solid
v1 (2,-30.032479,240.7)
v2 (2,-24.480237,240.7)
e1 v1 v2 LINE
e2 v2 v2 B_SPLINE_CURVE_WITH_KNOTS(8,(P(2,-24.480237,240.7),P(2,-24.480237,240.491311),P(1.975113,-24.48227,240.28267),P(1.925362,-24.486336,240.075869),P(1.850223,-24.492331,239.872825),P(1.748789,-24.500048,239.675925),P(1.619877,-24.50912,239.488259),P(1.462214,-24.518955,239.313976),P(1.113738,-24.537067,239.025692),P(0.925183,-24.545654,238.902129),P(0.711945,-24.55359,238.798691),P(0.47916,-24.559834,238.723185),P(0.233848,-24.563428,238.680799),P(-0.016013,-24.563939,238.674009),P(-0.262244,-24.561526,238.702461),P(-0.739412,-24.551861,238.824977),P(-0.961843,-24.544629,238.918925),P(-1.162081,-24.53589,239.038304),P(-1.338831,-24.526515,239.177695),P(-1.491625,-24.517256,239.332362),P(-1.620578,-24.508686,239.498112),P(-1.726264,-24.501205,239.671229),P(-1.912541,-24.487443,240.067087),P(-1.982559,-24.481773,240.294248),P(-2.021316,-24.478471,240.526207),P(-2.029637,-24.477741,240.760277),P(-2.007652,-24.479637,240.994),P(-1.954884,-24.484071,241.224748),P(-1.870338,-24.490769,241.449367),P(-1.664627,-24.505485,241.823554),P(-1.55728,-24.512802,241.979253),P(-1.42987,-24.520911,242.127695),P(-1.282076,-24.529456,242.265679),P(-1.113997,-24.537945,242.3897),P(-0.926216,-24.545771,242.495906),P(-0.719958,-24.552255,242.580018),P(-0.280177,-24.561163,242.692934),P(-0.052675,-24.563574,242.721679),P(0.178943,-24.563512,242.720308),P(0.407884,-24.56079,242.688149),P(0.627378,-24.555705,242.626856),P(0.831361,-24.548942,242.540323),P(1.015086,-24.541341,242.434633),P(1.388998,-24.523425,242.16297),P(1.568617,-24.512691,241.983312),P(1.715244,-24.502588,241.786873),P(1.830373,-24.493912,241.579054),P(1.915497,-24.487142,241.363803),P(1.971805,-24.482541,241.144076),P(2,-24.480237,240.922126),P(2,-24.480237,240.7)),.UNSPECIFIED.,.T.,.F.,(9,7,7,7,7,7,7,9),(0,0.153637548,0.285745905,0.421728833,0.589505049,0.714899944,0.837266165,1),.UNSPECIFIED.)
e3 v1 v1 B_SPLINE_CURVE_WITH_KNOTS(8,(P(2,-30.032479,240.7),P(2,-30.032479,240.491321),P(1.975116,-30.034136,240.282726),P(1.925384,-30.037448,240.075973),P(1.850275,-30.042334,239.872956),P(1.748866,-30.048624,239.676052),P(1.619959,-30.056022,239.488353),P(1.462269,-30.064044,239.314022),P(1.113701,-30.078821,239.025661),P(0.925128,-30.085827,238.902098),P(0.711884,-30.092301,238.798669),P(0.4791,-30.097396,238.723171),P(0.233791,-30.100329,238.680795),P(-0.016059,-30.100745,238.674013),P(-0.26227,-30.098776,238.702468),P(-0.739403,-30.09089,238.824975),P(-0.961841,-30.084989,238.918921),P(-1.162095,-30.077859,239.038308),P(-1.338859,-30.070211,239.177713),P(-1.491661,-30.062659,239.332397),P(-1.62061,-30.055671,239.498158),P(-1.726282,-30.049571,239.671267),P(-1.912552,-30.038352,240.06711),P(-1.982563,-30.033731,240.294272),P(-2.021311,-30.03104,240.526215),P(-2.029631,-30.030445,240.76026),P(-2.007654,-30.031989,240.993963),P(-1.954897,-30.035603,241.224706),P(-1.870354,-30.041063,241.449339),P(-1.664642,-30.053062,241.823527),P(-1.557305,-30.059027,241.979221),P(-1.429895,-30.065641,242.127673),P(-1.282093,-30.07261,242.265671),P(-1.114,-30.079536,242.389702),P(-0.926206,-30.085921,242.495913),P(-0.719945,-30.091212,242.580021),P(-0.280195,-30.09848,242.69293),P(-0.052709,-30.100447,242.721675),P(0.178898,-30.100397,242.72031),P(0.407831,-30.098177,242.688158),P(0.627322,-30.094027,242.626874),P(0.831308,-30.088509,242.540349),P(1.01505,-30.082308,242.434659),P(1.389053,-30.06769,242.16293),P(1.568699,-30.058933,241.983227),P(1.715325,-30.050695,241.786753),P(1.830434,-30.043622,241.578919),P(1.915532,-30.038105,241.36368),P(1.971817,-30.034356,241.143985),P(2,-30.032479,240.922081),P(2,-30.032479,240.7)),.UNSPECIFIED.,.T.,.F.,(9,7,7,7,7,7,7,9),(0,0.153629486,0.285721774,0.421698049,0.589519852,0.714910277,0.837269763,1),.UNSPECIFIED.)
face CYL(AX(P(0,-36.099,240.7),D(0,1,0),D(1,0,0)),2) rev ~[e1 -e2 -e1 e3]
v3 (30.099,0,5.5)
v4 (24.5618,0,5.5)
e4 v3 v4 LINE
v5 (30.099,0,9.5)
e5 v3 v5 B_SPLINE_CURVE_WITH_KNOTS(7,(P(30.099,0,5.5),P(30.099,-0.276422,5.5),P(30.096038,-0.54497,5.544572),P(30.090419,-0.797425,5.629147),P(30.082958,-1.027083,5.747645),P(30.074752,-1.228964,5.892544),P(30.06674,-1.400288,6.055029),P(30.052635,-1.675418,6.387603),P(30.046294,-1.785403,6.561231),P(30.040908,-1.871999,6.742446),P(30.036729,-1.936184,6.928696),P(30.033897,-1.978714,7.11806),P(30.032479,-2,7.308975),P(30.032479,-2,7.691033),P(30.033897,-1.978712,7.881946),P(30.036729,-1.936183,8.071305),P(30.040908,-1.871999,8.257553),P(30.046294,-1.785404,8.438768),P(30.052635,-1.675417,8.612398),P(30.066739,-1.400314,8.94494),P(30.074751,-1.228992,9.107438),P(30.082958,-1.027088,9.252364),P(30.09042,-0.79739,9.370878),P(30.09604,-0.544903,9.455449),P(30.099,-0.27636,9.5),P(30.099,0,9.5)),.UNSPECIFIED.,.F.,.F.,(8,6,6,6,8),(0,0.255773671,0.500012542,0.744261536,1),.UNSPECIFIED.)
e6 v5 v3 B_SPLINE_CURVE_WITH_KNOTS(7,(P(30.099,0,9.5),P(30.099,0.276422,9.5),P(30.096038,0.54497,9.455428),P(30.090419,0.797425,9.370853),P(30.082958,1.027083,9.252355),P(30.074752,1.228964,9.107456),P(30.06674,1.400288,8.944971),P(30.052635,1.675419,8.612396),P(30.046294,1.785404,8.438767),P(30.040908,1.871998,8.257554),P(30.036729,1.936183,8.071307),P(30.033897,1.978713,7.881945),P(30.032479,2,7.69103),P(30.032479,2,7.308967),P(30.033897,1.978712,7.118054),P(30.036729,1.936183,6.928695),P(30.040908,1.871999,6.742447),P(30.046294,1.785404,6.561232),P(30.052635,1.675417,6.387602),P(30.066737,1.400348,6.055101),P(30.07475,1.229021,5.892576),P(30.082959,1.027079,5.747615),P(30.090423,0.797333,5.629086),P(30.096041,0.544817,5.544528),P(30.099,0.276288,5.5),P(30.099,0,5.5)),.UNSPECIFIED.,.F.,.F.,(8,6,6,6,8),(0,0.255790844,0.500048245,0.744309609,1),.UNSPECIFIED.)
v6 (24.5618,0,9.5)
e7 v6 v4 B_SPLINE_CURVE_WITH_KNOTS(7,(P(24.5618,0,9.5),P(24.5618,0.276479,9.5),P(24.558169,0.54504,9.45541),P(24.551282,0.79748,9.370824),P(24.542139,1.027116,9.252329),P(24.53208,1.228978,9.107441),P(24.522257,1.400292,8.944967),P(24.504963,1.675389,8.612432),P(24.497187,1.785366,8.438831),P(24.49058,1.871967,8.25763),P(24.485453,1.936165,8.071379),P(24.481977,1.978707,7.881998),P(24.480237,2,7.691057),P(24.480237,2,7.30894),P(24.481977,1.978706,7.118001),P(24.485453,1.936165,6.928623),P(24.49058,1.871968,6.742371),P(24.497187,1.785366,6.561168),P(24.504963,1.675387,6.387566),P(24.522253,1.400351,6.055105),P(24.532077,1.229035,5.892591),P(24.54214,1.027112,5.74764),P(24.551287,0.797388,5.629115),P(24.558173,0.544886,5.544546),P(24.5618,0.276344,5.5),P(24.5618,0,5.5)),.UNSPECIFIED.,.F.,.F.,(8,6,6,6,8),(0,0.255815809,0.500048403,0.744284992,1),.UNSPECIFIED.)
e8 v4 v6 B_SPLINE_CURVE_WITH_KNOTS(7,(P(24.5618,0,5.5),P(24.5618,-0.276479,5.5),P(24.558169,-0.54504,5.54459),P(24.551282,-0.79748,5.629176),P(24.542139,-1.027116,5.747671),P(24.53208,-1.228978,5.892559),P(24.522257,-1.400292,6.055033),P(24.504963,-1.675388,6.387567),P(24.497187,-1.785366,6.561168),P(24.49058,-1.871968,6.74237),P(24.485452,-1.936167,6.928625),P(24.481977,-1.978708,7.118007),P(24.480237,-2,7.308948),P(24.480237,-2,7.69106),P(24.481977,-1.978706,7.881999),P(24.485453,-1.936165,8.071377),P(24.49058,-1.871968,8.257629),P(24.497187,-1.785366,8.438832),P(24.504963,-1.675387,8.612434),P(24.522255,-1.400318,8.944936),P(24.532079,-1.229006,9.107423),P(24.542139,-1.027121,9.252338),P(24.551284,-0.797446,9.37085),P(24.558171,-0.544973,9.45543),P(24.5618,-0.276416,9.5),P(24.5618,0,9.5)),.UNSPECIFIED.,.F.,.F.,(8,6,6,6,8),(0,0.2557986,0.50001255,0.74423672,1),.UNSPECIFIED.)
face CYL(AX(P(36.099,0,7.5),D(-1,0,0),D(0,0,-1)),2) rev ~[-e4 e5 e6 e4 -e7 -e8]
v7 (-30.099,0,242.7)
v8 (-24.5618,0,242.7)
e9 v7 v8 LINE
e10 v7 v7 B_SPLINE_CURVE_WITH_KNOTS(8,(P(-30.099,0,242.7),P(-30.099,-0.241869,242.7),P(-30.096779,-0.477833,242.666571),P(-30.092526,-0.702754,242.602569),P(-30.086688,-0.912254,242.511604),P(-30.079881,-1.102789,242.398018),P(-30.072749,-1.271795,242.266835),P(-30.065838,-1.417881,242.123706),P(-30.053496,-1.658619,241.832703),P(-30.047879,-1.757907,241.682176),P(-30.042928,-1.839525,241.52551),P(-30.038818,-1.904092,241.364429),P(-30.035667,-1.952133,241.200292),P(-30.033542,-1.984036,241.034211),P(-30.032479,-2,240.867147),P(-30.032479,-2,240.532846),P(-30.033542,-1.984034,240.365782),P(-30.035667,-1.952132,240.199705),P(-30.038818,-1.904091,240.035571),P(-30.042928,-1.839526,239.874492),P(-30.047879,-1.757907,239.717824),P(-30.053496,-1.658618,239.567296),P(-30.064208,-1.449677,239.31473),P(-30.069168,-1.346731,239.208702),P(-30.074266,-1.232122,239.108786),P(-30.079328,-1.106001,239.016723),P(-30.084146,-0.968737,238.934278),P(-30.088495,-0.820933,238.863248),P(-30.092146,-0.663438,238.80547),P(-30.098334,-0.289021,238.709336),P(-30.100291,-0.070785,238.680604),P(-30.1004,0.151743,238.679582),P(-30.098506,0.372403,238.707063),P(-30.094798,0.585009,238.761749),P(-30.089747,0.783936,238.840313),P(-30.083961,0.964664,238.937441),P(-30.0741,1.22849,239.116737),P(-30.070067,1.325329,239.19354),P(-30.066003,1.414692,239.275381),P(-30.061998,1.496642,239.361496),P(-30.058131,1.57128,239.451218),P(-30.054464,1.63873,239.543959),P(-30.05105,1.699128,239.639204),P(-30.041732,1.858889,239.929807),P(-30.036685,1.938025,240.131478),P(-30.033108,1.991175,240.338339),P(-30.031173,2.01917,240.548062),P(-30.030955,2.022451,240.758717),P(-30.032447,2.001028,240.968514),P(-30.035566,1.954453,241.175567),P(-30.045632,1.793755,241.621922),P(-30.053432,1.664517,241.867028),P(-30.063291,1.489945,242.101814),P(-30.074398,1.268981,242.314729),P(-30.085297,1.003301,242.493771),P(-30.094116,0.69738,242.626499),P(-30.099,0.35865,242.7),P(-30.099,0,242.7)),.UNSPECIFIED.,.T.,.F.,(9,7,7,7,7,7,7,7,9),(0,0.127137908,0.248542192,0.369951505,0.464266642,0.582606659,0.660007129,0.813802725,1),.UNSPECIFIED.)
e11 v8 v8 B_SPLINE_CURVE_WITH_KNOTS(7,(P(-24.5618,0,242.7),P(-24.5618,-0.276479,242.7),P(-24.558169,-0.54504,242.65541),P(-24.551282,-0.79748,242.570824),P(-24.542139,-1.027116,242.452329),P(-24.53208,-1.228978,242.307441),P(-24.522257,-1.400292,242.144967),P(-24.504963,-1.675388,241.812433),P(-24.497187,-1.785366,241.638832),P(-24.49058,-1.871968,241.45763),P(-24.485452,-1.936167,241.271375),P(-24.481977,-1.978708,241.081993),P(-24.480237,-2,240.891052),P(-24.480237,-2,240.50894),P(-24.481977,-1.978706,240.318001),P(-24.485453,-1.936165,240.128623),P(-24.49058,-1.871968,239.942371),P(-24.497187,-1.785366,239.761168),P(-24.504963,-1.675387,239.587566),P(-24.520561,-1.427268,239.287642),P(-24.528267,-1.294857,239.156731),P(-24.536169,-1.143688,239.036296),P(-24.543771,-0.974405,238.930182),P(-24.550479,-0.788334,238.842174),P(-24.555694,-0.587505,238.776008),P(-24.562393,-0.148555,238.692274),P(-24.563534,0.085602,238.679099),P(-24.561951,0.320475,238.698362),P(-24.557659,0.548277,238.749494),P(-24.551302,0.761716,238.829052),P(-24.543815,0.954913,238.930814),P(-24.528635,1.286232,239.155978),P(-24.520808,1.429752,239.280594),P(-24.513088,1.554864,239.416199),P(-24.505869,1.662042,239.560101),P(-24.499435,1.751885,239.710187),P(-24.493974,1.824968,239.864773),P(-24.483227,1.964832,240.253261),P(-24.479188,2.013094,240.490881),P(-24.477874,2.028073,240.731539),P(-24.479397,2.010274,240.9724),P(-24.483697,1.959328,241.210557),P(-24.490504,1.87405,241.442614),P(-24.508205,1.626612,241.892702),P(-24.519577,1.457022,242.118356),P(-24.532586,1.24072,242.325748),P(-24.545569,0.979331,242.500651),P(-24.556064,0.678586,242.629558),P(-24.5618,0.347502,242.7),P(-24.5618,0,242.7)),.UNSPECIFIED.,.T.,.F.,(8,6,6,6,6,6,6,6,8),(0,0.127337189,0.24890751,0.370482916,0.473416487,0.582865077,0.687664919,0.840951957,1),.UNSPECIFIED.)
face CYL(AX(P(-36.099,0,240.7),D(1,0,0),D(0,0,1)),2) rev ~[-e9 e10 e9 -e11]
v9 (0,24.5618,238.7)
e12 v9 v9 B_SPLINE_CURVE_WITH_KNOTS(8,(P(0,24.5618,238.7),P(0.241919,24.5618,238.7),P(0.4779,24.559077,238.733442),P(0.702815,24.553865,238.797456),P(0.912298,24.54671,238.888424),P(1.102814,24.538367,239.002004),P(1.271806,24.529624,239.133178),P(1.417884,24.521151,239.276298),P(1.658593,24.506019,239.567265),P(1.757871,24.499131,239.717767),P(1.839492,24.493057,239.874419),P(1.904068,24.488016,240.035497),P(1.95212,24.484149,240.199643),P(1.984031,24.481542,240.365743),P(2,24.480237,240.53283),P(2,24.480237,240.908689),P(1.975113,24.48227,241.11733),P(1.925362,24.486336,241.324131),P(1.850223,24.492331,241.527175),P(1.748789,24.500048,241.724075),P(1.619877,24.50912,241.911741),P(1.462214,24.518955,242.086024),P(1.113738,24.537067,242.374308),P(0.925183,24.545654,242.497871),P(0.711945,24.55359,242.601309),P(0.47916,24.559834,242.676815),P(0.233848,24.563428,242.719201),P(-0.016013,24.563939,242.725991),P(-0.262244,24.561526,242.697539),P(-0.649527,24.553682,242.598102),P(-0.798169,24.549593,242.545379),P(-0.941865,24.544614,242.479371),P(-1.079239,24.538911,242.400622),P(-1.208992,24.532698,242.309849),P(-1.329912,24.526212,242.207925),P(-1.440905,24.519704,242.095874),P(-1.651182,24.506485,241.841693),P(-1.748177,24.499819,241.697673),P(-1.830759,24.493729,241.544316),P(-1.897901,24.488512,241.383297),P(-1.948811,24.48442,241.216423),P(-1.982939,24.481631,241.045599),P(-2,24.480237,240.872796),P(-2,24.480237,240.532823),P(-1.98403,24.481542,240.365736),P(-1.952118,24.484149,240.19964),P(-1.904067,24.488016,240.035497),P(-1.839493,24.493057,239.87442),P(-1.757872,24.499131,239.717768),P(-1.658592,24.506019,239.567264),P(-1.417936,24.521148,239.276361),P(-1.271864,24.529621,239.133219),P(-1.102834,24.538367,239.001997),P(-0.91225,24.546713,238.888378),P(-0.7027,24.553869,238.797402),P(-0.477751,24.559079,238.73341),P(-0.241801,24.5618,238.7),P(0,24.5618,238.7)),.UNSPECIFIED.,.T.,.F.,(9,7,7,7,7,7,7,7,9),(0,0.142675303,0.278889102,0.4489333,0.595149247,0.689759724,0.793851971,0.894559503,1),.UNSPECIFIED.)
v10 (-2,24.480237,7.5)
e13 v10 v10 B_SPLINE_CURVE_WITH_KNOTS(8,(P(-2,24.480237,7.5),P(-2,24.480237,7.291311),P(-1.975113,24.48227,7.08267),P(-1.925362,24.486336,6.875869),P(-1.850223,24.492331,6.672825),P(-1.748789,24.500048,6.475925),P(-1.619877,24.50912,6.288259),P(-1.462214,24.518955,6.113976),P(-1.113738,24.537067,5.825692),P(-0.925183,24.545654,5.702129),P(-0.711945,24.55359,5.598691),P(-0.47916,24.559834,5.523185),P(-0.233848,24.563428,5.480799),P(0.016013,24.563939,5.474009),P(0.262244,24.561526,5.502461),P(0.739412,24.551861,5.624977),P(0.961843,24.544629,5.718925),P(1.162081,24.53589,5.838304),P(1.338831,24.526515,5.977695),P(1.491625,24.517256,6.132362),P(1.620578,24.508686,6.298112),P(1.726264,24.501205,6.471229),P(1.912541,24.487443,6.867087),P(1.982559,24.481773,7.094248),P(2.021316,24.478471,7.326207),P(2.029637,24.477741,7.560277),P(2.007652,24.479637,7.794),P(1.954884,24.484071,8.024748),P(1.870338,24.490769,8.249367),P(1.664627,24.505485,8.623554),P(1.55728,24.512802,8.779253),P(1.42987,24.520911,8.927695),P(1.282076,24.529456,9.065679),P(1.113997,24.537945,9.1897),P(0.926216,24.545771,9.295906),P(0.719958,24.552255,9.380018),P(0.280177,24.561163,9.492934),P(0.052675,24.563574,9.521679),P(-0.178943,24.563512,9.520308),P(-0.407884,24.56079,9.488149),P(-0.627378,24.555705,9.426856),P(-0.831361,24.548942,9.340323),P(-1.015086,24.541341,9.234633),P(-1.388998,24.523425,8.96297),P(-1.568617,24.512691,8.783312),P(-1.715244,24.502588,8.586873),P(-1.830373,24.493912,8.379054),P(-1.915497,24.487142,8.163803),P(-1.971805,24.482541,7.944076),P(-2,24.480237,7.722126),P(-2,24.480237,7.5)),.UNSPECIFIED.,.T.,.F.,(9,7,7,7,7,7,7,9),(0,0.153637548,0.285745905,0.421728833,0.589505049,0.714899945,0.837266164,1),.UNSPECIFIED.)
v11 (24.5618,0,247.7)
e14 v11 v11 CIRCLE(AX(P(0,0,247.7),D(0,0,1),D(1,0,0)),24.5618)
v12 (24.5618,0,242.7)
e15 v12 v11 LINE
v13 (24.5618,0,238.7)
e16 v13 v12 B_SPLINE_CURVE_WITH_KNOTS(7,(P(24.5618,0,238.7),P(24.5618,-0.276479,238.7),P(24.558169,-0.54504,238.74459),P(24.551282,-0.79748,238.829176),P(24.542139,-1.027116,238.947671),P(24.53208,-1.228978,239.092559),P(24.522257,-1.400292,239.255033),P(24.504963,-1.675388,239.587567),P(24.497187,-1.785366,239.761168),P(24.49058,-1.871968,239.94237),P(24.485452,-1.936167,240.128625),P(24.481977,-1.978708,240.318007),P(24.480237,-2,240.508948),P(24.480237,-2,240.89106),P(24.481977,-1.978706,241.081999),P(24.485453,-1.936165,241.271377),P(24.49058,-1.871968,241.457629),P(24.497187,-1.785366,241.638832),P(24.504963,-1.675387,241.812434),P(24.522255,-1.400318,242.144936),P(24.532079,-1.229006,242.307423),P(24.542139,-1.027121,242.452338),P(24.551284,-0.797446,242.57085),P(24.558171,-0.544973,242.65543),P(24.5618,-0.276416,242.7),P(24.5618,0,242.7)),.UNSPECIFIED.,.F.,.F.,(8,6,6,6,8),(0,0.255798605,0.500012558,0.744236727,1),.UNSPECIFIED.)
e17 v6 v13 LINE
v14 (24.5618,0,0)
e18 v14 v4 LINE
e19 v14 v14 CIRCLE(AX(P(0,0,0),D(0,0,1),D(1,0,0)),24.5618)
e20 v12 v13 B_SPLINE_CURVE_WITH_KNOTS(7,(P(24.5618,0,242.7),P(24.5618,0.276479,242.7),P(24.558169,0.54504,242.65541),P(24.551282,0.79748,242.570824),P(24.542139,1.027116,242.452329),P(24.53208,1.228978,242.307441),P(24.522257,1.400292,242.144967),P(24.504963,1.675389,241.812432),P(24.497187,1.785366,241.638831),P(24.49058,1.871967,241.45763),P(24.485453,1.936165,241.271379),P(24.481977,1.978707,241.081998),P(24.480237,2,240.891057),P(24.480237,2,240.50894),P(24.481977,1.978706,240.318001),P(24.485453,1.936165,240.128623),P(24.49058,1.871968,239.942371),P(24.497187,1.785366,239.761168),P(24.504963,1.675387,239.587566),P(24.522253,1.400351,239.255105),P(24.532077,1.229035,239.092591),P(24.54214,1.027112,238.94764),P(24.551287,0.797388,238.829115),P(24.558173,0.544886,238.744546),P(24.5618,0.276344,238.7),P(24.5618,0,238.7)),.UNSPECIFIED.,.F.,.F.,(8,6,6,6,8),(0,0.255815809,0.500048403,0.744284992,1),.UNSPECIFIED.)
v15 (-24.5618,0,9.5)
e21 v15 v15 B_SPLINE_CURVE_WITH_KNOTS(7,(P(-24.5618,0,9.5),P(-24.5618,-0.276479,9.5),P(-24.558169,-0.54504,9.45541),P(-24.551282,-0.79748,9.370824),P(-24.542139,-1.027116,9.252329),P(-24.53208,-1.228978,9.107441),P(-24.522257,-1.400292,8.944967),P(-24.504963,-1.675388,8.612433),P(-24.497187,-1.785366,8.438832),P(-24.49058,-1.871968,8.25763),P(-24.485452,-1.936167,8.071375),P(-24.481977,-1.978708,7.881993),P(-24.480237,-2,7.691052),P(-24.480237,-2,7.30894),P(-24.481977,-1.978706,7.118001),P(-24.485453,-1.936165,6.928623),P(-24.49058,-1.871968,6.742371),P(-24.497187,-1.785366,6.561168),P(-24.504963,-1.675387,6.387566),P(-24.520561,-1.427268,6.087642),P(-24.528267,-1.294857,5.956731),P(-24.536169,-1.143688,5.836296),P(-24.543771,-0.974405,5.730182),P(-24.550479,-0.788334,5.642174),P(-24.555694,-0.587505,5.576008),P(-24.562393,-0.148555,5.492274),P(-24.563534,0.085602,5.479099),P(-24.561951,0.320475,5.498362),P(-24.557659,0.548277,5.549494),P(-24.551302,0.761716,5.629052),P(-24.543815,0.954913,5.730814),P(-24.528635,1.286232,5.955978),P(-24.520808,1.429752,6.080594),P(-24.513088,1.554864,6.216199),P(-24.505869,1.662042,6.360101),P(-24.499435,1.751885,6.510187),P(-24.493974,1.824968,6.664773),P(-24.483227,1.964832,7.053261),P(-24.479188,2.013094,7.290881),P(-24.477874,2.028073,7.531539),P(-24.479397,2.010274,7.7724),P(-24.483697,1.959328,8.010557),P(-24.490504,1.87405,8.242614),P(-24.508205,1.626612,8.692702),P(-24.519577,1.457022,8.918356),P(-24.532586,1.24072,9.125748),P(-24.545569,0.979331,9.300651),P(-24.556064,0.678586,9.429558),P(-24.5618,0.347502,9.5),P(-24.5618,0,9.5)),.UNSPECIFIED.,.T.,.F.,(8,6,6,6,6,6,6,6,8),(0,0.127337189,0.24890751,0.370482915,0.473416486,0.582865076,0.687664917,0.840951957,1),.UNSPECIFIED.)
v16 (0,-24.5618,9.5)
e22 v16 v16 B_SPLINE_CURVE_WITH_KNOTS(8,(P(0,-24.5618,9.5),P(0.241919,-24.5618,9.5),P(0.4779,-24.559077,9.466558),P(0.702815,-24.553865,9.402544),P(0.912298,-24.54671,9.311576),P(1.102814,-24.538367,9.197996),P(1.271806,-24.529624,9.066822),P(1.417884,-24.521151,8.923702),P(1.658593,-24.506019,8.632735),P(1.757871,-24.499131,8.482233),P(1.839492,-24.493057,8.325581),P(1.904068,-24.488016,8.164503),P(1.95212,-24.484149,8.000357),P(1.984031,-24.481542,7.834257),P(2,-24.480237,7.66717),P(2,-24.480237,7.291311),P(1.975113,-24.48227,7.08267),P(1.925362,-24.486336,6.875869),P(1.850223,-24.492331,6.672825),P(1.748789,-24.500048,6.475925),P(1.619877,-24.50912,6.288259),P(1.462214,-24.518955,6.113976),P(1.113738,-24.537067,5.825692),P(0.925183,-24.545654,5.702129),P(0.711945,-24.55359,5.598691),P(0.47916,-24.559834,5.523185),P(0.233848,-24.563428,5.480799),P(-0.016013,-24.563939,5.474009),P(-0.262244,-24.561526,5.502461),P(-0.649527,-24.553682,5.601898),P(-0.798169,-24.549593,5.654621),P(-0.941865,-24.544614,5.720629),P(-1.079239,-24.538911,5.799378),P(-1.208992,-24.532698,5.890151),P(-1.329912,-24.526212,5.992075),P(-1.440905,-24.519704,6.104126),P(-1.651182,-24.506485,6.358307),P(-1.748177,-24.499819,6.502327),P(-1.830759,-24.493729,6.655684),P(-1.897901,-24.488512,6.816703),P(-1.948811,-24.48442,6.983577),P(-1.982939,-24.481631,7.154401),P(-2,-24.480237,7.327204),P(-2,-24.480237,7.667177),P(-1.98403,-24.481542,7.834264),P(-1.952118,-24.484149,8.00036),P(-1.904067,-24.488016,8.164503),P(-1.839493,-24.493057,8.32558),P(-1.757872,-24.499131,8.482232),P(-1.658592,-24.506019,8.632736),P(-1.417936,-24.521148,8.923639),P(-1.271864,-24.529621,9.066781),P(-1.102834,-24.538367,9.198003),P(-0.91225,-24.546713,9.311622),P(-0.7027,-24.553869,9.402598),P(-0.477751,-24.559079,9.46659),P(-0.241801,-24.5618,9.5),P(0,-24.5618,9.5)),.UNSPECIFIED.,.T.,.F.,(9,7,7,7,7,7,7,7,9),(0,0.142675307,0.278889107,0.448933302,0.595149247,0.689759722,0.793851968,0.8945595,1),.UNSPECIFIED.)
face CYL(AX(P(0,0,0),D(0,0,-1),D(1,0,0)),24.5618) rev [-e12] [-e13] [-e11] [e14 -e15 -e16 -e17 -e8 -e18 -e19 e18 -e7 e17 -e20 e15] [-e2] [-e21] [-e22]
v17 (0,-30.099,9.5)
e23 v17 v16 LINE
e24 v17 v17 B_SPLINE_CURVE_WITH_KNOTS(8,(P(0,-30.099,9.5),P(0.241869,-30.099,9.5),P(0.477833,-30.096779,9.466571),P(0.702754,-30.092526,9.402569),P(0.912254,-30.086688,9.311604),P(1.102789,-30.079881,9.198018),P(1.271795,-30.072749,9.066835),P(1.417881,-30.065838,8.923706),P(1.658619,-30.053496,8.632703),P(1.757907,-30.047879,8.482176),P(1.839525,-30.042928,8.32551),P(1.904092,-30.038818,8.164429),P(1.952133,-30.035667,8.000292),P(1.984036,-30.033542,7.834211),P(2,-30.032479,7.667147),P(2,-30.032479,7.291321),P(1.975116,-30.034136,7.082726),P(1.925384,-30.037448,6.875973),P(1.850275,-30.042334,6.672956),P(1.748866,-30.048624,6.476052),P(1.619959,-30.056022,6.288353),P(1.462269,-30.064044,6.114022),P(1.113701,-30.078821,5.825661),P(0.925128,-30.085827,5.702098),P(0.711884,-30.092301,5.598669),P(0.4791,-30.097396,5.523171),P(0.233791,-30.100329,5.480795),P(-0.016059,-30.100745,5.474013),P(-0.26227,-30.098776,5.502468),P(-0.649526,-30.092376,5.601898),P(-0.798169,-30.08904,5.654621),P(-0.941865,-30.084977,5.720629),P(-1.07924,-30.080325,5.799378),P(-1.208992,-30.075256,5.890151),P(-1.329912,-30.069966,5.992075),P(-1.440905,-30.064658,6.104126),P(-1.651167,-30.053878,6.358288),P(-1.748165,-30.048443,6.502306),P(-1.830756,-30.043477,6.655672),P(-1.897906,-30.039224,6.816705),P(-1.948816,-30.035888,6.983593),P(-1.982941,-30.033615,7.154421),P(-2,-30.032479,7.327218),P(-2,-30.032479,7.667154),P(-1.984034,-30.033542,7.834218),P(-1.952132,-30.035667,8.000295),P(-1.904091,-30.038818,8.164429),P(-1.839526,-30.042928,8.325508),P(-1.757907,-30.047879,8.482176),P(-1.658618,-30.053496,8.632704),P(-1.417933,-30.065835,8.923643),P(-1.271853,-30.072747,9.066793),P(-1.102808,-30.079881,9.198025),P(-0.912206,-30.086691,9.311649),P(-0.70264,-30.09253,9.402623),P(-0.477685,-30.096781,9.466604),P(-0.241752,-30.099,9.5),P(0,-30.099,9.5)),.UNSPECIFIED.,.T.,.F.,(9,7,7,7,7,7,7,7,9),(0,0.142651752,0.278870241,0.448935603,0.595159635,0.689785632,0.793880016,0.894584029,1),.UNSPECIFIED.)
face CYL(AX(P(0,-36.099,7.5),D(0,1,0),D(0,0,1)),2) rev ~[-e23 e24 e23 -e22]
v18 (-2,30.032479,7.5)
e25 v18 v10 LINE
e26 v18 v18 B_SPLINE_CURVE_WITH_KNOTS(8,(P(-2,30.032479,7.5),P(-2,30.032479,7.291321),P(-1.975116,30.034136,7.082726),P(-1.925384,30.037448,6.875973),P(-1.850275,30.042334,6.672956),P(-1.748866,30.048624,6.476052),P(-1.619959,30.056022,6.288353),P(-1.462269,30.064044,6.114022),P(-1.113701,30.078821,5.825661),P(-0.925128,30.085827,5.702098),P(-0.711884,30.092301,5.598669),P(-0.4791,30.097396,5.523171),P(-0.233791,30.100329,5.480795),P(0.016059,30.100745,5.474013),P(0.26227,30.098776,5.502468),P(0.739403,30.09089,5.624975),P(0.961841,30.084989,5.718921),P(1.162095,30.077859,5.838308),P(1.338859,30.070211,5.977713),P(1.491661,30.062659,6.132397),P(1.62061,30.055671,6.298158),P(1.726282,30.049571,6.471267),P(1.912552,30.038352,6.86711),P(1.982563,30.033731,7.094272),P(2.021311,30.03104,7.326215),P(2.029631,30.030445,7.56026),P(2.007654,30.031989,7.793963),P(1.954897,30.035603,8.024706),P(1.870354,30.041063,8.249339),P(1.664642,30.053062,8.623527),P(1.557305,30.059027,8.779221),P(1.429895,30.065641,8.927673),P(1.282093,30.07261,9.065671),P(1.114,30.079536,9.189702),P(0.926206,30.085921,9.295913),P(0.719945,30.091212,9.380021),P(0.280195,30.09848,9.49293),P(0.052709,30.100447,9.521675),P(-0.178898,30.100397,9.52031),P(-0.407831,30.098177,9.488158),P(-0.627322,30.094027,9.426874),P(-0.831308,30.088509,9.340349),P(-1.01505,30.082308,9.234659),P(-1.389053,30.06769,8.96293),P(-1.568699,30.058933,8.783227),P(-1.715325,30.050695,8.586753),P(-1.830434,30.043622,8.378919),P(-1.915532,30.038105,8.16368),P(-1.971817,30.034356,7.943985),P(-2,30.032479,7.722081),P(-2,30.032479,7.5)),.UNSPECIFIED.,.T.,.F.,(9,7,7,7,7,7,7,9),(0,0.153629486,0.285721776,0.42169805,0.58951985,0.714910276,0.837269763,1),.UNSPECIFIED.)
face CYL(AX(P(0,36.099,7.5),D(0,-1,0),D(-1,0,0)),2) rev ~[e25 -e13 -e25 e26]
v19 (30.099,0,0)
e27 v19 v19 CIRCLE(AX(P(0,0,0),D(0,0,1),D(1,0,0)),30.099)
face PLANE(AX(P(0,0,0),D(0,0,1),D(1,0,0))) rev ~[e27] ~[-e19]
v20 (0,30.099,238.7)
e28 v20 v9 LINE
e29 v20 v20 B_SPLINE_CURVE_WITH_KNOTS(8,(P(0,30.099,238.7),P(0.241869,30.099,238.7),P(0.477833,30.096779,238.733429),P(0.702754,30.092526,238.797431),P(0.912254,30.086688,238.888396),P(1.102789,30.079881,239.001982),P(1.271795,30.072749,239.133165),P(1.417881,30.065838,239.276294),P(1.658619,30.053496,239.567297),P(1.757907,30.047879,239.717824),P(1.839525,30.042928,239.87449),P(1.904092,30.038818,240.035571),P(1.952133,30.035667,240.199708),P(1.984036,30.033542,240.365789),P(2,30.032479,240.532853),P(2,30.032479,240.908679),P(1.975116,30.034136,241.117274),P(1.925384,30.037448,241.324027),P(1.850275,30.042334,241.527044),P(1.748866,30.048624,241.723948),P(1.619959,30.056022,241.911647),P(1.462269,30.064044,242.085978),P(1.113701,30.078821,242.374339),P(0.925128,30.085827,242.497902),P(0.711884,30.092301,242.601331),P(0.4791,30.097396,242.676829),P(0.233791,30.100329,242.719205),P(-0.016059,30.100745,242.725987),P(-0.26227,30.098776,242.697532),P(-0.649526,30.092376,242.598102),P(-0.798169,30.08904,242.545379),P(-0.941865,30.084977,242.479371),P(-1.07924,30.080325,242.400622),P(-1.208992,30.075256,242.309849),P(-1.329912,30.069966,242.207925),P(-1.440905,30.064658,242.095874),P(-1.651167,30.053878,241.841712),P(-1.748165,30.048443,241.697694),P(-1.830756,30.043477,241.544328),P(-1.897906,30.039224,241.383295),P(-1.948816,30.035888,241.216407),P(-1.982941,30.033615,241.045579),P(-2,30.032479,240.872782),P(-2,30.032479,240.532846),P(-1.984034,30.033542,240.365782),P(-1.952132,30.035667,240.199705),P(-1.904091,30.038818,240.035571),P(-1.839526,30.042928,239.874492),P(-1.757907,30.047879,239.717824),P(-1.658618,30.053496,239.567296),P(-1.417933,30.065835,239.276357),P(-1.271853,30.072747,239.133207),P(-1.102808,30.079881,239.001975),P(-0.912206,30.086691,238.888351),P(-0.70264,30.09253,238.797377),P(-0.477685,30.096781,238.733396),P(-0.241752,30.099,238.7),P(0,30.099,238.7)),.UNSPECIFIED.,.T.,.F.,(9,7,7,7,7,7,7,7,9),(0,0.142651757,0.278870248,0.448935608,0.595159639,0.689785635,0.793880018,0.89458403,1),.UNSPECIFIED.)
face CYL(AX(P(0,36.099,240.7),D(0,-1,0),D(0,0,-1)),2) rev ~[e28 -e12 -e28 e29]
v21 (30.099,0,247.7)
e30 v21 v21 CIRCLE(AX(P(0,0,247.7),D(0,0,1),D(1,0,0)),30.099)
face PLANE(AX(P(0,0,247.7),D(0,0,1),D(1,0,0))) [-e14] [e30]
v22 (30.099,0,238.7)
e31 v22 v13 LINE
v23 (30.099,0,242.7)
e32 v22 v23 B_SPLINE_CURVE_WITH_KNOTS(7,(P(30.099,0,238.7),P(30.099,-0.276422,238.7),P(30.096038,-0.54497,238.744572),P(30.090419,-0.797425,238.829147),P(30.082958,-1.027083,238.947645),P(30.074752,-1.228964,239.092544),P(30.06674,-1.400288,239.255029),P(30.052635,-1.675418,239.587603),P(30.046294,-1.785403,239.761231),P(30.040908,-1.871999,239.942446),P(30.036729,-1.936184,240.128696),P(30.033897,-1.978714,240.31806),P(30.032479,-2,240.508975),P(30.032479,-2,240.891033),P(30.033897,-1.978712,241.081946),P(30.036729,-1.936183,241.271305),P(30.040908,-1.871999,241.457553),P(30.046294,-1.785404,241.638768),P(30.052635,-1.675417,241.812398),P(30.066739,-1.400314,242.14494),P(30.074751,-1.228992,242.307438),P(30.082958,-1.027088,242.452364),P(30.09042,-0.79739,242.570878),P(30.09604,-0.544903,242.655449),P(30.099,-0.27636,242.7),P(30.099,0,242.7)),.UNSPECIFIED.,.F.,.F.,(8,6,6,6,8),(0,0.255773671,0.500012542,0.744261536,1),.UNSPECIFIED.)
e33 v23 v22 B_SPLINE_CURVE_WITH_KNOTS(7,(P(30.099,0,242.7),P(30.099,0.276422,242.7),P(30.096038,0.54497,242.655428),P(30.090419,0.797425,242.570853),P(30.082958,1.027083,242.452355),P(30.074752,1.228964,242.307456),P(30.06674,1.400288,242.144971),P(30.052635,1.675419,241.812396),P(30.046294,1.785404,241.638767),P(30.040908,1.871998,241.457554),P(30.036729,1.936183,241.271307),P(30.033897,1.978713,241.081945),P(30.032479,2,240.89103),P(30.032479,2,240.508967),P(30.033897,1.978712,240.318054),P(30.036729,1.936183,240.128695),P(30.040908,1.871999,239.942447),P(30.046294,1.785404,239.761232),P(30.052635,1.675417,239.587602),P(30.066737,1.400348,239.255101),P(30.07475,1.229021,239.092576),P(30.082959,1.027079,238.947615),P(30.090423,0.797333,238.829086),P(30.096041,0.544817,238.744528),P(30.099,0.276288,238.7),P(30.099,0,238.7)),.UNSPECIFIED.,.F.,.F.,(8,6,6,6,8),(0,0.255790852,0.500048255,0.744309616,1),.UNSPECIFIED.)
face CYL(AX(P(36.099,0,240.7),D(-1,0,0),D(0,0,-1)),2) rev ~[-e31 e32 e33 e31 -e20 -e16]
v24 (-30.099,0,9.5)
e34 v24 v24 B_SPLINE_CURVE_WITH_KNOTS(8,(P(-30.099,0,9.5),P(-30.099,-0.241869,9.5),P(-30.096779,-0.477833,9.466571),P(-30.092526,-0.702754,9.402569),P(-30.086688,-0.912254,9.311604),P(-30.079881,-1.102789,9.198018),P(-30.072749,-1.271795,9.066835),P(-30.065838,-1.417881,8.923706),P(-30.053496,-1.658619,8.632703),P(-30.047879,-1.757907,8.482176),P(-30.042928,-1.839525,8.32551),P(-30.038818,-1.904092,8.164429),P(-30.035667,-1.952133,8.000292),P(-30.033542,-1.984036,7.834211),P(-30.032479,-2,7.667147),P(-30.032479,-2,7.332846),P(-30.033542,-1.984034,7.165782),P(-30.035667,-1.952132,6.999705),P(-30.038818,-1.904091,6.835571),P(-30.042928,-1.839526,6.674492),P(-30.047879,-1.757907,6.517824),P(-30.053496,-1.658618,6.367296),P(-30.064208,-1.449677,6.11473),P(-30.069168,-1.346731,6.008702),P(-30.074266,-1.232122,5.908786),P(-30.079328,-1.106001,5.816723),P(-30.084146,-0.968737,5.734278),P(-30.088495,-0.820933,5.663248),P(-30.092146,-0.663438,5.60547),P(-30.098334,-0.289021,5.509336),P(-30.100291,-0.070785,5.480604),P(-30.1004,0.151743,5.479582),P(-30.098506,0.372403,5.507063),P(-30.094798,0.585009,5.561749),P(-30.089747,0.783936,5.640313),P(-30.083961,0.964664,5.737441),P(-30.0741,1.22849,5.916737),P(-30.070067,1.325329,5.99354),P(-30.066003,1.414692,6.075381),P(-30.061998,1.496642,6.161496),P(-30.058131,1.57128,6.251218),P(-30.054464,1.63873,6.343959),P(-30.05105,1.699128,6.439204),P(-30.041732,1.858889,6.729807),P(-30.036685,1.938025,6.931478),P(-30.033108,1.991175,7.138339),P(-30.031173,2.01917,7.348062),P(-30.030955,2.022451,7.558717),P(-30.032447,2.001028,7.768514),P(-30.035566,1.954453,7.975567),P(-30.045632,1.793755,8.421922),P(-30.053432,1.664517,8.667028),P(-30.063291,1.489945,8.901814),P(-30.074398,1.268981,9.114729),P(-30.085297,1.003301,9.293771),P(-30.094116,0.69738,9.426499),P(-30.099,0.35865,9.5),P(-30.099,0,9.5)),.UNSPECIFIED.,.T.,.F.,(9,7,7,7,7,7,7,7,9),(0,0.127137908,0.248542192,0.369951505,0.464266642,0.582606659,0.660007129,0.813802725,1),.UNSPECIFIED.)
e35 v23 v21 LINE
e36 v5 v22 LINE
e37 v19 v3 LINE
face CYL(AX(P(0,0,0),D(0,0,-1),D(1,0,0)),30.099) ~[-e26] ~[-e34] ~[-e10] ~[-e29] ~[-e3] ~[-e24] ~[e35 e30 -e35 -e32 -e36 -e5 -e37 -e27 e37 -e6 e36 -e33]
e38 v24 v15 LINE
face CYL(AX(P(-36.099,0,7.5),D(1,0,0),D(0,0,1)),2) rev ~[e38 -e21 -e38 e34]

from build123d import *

# Parameters (mm, degrees)
SKETCH1_R                           = 30.099
SKETCH1_R_2                         = 24.5618
BOSS_EXTRUDE1_DEPTH                 = 247.7
F_4_0MM_DOWEL_HOLE1_D               = 4
F_4_0MM_DOWEL_HOLE1_DEPTH           = 6
F_4_0MM_DOWEL_HOLE1_TIP             = 1.201721238
F_4_0MM_DOWEL_HOLE1_ON_FACE_2_D     = 4
F_4_0MM_DOWEL_HOLE1_ON_FACE_2_DEPTH = 6
F_4_0MM_DOWEL_HOLE1_ON_FACE_2_TIP   = 1.201721238
F_4_0MM_DOWEL_HOLE1_ON_FACE_3_D     = 4
F_4_0MM_DOWEL_HOLE1_ON_FACE_3_DEPTH = 6
F_4_0MM_DOWEL_HOLE1_ON_FACE_3_TIP   = 1.201721238
F_4_0MM_DOWEL_HOLE1_ON_FACE_4_D     = 4
F_4_0MM_DOWEL_HOLE1_ON_FACE_4_DEPTH = 6
F_4_0MM_DOWEL_HOLE1_ON_FACE_4_TIP   = 1.201721238
F_4_0MM_DOWEL_HOLE2_D               = 4
F_4_0MM_DOWEL_HOLE2_DEPTH           = 6
F_4_0MM_DOWEL_HOLE2_TIP             = 1.201721238
F_4_0MM_DOWEL_HOLE2_ON_FACE_2_D     = 4
F_4_0MM_DOWEL_HOLE2_ON_FACE_2_DEPTH = 6
F_4_0MM_DOWEL_HOLE2_ON_FACE_2_TIP   = 1.201721238
F_4_0MM_DOWEL_HOLE2_ON_FACE_3_D     = 4
F_4_0MM_DOWEL_HOLE2_ON_FACE_3_DEPTH = 6
F_4_0MM_DOWEL_HOLE2_ON_FACE_3_TIP   = 1.201721238
F_4_0MM_DOWEL_HOLE2_ON_FACE_4_D     = 4
F_4_0MM_DOWEL_HOLE2_ON_FACE_4_DEPTH = 6
F_4_0MM_DOWEL_HOLE2_ON_FACE_4_TIP   = 1.201721238


with BuildPart() as part:
    # Sketch1 → Boss-Extrude1 (new body)
    with BuildSketch(Plane.XY):
        Circle(SKETCH1_R)
        Circle(SKETCH1_R_2, mode=Mode.SUBTRACT)
    extrude(amount=BOSS_EXTRUDE1_DEPTH)

    # Ø4.0mm Dowel Hole1
    with Locations(Plane(origin=(0, 30.099, 7.5), x_dir=(1, 0, 0), z_dir=(0, 1, 0))):
        with Locations((0, 0)):
            Hole(F_4_0MM_DOWEL_HOLE1_D / 2, depth=F_4_0MM_DOWEL_HOLE1_DEPTH)
            with Locations((0, 0, -(F_4_0MM_DOWEL_HOLE1_DEPTH + F_4_0MM_DOWEL_HOLE1_TIP / 2))):  # 118° drill point
                Cone(0, F_4_0MM_DOWEL_HOLE1_D / 2, F_4_0MM_DOWEL_HOLE1_TIP, mode=Mode.SUBTRACT)

    # Ø4.0mm Dowel Hole1 on face 2
    with Locations(Plane(origin=(30.099, 0, 7.5), x_dir=(0, 0, 1), z_dir=(1, 0, 0))):
        with Locations((0, 0)):
            Hole(F_4_0MM_DOWEL_HOLE1_ON_FACE_2_D / 2, depth=F_4_0MM_DOWEL_HOLE1_ON_FACE_2_DEPTH)
            with Locations((0, 0, -(F_4_0MM_DOWEL_HOLE1_ON_FACE_2_DEPTH + F_4_0MM_DOWEL_HOLE1_ON_FACE_2_TIP / 2))):  # 118° drill point
                Cone(0, F_4_0MM_DOWEL_HOLE1_ON_FACE_2_D / 2, F_4_0MM_DOWEL_HOLE1_ON_FACE_2_TIP, mode=Mode.SUBTRACT)

    # Ø4.0mm Dowel Hole1 on face 3
    with Locations(Plane(origin=(0, -30.099, 7.5), x_dir=(0, 0, -1), z_dir=(0, -1, 0))):
        with Locations((0, 0)):
            Hole(F_4_0MM_DOWEL_HOLE1_ON_FACE_3_D / 2, depth=F_4_0MM_DOWEL_HOLE1_ON_FACE_3_DEPTH)
            with Locations((0, 0, -(F_4_0MM_DOWEL_HOLE1_ON_FACE_3_DEPTH + F_4_0MM_DOWEL_HOLE1_ON_FACE_3_TIP / 2))):  # 118° drill point
                Cone(0, F_4_0MM_DOWEL_HOLE1_ON_FACE_3_D / 2, F_4_0MM_DOWEL_HOLE1_ON_FACE_3_TIP, mode=Mode.SUBTRACT)

    # Ø4.0mm Dowel Hole1 on face 4
    with Locations(Plane(origin=(-30.099, 0, 7.5), x_dir=(0, 0, -1), z_dir=(-1, 0, 0))):
        with Locations((0, 0)):
            Hole(F_4_0MM_DOWEL_HOLE1_ON_FACE_4_D / 2, depth=F_4_0MM_DOWEL_HOLE1_ON_FACE_4_DEPTH)
            with Locations((0, 0, -(F_4_0MM_DOWEL_HOLE1_ON_FACE_4_DEPTH + F_4_0MM_DOWEL_HOLE1_ON_FACE_4_TIP / 2))):  # 118° drill point
                Cone(0, F_4_0MM_DOWEL_HOLE1_ON_FACE_4_D / 2, F_4_0MM_DOWEL_HOLE1_ON_FACE_4_TIP, mode=Mode.SUBTRACT)

    # Ø4.0mm Dowel Hole2
    with Locations(Plane(origin=(0, -30.099, 240.7), x_dir=(-1, 0, 0), z_dir=(0, -1, 0))):
        with Locations((0, 0)):
            Hole(F_4_0MM_DOWEL_HOLE2_D / 2, depth=F_4_0MM_DOWEL_HOLE2_DEPTH)
            with Locations((0, 0, -(F_4_0MM_DOWEL_HOLE2_DEPTH + F_4_0MM_DOWEL_HOLE2_TIP / 2))):  # 118° drill point
                Cone(0, F_4_0MM_DOWEL_HOLE2_D / 2, F_4_0MM_DOWEL_HOLE2_TIP, mode=Mode.SUBTRACT)

    # Ø4.0mm Dowel Hole2 on face 2
    with Locations(Plane(origin=(-30.099, 0, 240.7), x_dir=(0, 0, -1), z_dir=(-1, 0, 0))):
        with Locations((0, 0)):
            Hole(F_4_0MM_DOWEL_HOLE2_ON_FACE_2_D / 2, depth=F_4_0MM_DOWEL_HOLE2_ON_FACE_2_DEPTH)
            with Locations((0, 0, -(F_4_0MM_DOWEL_HOLE2_ON_FACE_2_DEPTH + F_4_0MM_DOWEL_HOLE2_ON_FACE_2_TIP / 2))):  # 118° drill point
                Cone(0, F_4_0MM_DOWEL_HOLE2_ON_FACE_2_D / 2, F_4_0MM_DOWEL_HOLE2_ON_FACE_2_TIP, mode=Mode.SUBTRACT)

    # Ø4.0mm Dowel Hole2 on face 3
    with Locations(Plane(origin=(0, 30.099, 240.7), x_dir=(0, 0, 1), z_dir=(0, 1, 0))):
        with Locations((0, 0)):
            Hole(F_4_0MM_DOWEL_HOLE2_ON_FACE_3_D / 2, depth=F_4_0MM_DOWEL_HOLE2_ON_FACE_3_DEPTH)
            with Locations((0, 0, -(F_4_0MM_DOWEL_HOLE2_ON_FACE_3_DEPTH + F_4_0MM_DOWEL_HOLE2_ON_FACE_3_TIP / 2))):  # 118° drill point
                Cone(0, F_4_0MM_DOWEL_HOLE2_ON_FACE_3_D / 2, F_4_0MM_DOWEL_HOLE2_ON_FACE_3_TIP, mode=Mode.SUBTRACT)

    # Ø4.0mm Dowel Hole2 on face 4
    with Locations(Plane(origin=(30.099, 0, 240.7), x_dir=(0, 0, 1), z_dir=(1, 0, 0))):
        with Locations((0, 0)):
            Hole(F_4_0MM_DOWEL_HOLE2_ON_FACE_4_D / 2, depth=F_4_0MM_DOWEL_HOLE2_ON_FACE_4_DEPTH)
            with Locations((0, 0, -(F_4_0MM_DOWEL_HOLE2_ON_FACE_4_DEPTH + F_4_0MM_DOWEL_HOLE2_ON_FACE_4_TIP / 2))):  # 118° drill point
                Cone(0, F_4_0MM_DOWEL_HOLE2_ON_FACE_4_D / 2, F_4_0MM_DOWEL_HOLE2_ON_FACE_4_TIP, mode=Mode.SUBTRACT)


solid = part.part
